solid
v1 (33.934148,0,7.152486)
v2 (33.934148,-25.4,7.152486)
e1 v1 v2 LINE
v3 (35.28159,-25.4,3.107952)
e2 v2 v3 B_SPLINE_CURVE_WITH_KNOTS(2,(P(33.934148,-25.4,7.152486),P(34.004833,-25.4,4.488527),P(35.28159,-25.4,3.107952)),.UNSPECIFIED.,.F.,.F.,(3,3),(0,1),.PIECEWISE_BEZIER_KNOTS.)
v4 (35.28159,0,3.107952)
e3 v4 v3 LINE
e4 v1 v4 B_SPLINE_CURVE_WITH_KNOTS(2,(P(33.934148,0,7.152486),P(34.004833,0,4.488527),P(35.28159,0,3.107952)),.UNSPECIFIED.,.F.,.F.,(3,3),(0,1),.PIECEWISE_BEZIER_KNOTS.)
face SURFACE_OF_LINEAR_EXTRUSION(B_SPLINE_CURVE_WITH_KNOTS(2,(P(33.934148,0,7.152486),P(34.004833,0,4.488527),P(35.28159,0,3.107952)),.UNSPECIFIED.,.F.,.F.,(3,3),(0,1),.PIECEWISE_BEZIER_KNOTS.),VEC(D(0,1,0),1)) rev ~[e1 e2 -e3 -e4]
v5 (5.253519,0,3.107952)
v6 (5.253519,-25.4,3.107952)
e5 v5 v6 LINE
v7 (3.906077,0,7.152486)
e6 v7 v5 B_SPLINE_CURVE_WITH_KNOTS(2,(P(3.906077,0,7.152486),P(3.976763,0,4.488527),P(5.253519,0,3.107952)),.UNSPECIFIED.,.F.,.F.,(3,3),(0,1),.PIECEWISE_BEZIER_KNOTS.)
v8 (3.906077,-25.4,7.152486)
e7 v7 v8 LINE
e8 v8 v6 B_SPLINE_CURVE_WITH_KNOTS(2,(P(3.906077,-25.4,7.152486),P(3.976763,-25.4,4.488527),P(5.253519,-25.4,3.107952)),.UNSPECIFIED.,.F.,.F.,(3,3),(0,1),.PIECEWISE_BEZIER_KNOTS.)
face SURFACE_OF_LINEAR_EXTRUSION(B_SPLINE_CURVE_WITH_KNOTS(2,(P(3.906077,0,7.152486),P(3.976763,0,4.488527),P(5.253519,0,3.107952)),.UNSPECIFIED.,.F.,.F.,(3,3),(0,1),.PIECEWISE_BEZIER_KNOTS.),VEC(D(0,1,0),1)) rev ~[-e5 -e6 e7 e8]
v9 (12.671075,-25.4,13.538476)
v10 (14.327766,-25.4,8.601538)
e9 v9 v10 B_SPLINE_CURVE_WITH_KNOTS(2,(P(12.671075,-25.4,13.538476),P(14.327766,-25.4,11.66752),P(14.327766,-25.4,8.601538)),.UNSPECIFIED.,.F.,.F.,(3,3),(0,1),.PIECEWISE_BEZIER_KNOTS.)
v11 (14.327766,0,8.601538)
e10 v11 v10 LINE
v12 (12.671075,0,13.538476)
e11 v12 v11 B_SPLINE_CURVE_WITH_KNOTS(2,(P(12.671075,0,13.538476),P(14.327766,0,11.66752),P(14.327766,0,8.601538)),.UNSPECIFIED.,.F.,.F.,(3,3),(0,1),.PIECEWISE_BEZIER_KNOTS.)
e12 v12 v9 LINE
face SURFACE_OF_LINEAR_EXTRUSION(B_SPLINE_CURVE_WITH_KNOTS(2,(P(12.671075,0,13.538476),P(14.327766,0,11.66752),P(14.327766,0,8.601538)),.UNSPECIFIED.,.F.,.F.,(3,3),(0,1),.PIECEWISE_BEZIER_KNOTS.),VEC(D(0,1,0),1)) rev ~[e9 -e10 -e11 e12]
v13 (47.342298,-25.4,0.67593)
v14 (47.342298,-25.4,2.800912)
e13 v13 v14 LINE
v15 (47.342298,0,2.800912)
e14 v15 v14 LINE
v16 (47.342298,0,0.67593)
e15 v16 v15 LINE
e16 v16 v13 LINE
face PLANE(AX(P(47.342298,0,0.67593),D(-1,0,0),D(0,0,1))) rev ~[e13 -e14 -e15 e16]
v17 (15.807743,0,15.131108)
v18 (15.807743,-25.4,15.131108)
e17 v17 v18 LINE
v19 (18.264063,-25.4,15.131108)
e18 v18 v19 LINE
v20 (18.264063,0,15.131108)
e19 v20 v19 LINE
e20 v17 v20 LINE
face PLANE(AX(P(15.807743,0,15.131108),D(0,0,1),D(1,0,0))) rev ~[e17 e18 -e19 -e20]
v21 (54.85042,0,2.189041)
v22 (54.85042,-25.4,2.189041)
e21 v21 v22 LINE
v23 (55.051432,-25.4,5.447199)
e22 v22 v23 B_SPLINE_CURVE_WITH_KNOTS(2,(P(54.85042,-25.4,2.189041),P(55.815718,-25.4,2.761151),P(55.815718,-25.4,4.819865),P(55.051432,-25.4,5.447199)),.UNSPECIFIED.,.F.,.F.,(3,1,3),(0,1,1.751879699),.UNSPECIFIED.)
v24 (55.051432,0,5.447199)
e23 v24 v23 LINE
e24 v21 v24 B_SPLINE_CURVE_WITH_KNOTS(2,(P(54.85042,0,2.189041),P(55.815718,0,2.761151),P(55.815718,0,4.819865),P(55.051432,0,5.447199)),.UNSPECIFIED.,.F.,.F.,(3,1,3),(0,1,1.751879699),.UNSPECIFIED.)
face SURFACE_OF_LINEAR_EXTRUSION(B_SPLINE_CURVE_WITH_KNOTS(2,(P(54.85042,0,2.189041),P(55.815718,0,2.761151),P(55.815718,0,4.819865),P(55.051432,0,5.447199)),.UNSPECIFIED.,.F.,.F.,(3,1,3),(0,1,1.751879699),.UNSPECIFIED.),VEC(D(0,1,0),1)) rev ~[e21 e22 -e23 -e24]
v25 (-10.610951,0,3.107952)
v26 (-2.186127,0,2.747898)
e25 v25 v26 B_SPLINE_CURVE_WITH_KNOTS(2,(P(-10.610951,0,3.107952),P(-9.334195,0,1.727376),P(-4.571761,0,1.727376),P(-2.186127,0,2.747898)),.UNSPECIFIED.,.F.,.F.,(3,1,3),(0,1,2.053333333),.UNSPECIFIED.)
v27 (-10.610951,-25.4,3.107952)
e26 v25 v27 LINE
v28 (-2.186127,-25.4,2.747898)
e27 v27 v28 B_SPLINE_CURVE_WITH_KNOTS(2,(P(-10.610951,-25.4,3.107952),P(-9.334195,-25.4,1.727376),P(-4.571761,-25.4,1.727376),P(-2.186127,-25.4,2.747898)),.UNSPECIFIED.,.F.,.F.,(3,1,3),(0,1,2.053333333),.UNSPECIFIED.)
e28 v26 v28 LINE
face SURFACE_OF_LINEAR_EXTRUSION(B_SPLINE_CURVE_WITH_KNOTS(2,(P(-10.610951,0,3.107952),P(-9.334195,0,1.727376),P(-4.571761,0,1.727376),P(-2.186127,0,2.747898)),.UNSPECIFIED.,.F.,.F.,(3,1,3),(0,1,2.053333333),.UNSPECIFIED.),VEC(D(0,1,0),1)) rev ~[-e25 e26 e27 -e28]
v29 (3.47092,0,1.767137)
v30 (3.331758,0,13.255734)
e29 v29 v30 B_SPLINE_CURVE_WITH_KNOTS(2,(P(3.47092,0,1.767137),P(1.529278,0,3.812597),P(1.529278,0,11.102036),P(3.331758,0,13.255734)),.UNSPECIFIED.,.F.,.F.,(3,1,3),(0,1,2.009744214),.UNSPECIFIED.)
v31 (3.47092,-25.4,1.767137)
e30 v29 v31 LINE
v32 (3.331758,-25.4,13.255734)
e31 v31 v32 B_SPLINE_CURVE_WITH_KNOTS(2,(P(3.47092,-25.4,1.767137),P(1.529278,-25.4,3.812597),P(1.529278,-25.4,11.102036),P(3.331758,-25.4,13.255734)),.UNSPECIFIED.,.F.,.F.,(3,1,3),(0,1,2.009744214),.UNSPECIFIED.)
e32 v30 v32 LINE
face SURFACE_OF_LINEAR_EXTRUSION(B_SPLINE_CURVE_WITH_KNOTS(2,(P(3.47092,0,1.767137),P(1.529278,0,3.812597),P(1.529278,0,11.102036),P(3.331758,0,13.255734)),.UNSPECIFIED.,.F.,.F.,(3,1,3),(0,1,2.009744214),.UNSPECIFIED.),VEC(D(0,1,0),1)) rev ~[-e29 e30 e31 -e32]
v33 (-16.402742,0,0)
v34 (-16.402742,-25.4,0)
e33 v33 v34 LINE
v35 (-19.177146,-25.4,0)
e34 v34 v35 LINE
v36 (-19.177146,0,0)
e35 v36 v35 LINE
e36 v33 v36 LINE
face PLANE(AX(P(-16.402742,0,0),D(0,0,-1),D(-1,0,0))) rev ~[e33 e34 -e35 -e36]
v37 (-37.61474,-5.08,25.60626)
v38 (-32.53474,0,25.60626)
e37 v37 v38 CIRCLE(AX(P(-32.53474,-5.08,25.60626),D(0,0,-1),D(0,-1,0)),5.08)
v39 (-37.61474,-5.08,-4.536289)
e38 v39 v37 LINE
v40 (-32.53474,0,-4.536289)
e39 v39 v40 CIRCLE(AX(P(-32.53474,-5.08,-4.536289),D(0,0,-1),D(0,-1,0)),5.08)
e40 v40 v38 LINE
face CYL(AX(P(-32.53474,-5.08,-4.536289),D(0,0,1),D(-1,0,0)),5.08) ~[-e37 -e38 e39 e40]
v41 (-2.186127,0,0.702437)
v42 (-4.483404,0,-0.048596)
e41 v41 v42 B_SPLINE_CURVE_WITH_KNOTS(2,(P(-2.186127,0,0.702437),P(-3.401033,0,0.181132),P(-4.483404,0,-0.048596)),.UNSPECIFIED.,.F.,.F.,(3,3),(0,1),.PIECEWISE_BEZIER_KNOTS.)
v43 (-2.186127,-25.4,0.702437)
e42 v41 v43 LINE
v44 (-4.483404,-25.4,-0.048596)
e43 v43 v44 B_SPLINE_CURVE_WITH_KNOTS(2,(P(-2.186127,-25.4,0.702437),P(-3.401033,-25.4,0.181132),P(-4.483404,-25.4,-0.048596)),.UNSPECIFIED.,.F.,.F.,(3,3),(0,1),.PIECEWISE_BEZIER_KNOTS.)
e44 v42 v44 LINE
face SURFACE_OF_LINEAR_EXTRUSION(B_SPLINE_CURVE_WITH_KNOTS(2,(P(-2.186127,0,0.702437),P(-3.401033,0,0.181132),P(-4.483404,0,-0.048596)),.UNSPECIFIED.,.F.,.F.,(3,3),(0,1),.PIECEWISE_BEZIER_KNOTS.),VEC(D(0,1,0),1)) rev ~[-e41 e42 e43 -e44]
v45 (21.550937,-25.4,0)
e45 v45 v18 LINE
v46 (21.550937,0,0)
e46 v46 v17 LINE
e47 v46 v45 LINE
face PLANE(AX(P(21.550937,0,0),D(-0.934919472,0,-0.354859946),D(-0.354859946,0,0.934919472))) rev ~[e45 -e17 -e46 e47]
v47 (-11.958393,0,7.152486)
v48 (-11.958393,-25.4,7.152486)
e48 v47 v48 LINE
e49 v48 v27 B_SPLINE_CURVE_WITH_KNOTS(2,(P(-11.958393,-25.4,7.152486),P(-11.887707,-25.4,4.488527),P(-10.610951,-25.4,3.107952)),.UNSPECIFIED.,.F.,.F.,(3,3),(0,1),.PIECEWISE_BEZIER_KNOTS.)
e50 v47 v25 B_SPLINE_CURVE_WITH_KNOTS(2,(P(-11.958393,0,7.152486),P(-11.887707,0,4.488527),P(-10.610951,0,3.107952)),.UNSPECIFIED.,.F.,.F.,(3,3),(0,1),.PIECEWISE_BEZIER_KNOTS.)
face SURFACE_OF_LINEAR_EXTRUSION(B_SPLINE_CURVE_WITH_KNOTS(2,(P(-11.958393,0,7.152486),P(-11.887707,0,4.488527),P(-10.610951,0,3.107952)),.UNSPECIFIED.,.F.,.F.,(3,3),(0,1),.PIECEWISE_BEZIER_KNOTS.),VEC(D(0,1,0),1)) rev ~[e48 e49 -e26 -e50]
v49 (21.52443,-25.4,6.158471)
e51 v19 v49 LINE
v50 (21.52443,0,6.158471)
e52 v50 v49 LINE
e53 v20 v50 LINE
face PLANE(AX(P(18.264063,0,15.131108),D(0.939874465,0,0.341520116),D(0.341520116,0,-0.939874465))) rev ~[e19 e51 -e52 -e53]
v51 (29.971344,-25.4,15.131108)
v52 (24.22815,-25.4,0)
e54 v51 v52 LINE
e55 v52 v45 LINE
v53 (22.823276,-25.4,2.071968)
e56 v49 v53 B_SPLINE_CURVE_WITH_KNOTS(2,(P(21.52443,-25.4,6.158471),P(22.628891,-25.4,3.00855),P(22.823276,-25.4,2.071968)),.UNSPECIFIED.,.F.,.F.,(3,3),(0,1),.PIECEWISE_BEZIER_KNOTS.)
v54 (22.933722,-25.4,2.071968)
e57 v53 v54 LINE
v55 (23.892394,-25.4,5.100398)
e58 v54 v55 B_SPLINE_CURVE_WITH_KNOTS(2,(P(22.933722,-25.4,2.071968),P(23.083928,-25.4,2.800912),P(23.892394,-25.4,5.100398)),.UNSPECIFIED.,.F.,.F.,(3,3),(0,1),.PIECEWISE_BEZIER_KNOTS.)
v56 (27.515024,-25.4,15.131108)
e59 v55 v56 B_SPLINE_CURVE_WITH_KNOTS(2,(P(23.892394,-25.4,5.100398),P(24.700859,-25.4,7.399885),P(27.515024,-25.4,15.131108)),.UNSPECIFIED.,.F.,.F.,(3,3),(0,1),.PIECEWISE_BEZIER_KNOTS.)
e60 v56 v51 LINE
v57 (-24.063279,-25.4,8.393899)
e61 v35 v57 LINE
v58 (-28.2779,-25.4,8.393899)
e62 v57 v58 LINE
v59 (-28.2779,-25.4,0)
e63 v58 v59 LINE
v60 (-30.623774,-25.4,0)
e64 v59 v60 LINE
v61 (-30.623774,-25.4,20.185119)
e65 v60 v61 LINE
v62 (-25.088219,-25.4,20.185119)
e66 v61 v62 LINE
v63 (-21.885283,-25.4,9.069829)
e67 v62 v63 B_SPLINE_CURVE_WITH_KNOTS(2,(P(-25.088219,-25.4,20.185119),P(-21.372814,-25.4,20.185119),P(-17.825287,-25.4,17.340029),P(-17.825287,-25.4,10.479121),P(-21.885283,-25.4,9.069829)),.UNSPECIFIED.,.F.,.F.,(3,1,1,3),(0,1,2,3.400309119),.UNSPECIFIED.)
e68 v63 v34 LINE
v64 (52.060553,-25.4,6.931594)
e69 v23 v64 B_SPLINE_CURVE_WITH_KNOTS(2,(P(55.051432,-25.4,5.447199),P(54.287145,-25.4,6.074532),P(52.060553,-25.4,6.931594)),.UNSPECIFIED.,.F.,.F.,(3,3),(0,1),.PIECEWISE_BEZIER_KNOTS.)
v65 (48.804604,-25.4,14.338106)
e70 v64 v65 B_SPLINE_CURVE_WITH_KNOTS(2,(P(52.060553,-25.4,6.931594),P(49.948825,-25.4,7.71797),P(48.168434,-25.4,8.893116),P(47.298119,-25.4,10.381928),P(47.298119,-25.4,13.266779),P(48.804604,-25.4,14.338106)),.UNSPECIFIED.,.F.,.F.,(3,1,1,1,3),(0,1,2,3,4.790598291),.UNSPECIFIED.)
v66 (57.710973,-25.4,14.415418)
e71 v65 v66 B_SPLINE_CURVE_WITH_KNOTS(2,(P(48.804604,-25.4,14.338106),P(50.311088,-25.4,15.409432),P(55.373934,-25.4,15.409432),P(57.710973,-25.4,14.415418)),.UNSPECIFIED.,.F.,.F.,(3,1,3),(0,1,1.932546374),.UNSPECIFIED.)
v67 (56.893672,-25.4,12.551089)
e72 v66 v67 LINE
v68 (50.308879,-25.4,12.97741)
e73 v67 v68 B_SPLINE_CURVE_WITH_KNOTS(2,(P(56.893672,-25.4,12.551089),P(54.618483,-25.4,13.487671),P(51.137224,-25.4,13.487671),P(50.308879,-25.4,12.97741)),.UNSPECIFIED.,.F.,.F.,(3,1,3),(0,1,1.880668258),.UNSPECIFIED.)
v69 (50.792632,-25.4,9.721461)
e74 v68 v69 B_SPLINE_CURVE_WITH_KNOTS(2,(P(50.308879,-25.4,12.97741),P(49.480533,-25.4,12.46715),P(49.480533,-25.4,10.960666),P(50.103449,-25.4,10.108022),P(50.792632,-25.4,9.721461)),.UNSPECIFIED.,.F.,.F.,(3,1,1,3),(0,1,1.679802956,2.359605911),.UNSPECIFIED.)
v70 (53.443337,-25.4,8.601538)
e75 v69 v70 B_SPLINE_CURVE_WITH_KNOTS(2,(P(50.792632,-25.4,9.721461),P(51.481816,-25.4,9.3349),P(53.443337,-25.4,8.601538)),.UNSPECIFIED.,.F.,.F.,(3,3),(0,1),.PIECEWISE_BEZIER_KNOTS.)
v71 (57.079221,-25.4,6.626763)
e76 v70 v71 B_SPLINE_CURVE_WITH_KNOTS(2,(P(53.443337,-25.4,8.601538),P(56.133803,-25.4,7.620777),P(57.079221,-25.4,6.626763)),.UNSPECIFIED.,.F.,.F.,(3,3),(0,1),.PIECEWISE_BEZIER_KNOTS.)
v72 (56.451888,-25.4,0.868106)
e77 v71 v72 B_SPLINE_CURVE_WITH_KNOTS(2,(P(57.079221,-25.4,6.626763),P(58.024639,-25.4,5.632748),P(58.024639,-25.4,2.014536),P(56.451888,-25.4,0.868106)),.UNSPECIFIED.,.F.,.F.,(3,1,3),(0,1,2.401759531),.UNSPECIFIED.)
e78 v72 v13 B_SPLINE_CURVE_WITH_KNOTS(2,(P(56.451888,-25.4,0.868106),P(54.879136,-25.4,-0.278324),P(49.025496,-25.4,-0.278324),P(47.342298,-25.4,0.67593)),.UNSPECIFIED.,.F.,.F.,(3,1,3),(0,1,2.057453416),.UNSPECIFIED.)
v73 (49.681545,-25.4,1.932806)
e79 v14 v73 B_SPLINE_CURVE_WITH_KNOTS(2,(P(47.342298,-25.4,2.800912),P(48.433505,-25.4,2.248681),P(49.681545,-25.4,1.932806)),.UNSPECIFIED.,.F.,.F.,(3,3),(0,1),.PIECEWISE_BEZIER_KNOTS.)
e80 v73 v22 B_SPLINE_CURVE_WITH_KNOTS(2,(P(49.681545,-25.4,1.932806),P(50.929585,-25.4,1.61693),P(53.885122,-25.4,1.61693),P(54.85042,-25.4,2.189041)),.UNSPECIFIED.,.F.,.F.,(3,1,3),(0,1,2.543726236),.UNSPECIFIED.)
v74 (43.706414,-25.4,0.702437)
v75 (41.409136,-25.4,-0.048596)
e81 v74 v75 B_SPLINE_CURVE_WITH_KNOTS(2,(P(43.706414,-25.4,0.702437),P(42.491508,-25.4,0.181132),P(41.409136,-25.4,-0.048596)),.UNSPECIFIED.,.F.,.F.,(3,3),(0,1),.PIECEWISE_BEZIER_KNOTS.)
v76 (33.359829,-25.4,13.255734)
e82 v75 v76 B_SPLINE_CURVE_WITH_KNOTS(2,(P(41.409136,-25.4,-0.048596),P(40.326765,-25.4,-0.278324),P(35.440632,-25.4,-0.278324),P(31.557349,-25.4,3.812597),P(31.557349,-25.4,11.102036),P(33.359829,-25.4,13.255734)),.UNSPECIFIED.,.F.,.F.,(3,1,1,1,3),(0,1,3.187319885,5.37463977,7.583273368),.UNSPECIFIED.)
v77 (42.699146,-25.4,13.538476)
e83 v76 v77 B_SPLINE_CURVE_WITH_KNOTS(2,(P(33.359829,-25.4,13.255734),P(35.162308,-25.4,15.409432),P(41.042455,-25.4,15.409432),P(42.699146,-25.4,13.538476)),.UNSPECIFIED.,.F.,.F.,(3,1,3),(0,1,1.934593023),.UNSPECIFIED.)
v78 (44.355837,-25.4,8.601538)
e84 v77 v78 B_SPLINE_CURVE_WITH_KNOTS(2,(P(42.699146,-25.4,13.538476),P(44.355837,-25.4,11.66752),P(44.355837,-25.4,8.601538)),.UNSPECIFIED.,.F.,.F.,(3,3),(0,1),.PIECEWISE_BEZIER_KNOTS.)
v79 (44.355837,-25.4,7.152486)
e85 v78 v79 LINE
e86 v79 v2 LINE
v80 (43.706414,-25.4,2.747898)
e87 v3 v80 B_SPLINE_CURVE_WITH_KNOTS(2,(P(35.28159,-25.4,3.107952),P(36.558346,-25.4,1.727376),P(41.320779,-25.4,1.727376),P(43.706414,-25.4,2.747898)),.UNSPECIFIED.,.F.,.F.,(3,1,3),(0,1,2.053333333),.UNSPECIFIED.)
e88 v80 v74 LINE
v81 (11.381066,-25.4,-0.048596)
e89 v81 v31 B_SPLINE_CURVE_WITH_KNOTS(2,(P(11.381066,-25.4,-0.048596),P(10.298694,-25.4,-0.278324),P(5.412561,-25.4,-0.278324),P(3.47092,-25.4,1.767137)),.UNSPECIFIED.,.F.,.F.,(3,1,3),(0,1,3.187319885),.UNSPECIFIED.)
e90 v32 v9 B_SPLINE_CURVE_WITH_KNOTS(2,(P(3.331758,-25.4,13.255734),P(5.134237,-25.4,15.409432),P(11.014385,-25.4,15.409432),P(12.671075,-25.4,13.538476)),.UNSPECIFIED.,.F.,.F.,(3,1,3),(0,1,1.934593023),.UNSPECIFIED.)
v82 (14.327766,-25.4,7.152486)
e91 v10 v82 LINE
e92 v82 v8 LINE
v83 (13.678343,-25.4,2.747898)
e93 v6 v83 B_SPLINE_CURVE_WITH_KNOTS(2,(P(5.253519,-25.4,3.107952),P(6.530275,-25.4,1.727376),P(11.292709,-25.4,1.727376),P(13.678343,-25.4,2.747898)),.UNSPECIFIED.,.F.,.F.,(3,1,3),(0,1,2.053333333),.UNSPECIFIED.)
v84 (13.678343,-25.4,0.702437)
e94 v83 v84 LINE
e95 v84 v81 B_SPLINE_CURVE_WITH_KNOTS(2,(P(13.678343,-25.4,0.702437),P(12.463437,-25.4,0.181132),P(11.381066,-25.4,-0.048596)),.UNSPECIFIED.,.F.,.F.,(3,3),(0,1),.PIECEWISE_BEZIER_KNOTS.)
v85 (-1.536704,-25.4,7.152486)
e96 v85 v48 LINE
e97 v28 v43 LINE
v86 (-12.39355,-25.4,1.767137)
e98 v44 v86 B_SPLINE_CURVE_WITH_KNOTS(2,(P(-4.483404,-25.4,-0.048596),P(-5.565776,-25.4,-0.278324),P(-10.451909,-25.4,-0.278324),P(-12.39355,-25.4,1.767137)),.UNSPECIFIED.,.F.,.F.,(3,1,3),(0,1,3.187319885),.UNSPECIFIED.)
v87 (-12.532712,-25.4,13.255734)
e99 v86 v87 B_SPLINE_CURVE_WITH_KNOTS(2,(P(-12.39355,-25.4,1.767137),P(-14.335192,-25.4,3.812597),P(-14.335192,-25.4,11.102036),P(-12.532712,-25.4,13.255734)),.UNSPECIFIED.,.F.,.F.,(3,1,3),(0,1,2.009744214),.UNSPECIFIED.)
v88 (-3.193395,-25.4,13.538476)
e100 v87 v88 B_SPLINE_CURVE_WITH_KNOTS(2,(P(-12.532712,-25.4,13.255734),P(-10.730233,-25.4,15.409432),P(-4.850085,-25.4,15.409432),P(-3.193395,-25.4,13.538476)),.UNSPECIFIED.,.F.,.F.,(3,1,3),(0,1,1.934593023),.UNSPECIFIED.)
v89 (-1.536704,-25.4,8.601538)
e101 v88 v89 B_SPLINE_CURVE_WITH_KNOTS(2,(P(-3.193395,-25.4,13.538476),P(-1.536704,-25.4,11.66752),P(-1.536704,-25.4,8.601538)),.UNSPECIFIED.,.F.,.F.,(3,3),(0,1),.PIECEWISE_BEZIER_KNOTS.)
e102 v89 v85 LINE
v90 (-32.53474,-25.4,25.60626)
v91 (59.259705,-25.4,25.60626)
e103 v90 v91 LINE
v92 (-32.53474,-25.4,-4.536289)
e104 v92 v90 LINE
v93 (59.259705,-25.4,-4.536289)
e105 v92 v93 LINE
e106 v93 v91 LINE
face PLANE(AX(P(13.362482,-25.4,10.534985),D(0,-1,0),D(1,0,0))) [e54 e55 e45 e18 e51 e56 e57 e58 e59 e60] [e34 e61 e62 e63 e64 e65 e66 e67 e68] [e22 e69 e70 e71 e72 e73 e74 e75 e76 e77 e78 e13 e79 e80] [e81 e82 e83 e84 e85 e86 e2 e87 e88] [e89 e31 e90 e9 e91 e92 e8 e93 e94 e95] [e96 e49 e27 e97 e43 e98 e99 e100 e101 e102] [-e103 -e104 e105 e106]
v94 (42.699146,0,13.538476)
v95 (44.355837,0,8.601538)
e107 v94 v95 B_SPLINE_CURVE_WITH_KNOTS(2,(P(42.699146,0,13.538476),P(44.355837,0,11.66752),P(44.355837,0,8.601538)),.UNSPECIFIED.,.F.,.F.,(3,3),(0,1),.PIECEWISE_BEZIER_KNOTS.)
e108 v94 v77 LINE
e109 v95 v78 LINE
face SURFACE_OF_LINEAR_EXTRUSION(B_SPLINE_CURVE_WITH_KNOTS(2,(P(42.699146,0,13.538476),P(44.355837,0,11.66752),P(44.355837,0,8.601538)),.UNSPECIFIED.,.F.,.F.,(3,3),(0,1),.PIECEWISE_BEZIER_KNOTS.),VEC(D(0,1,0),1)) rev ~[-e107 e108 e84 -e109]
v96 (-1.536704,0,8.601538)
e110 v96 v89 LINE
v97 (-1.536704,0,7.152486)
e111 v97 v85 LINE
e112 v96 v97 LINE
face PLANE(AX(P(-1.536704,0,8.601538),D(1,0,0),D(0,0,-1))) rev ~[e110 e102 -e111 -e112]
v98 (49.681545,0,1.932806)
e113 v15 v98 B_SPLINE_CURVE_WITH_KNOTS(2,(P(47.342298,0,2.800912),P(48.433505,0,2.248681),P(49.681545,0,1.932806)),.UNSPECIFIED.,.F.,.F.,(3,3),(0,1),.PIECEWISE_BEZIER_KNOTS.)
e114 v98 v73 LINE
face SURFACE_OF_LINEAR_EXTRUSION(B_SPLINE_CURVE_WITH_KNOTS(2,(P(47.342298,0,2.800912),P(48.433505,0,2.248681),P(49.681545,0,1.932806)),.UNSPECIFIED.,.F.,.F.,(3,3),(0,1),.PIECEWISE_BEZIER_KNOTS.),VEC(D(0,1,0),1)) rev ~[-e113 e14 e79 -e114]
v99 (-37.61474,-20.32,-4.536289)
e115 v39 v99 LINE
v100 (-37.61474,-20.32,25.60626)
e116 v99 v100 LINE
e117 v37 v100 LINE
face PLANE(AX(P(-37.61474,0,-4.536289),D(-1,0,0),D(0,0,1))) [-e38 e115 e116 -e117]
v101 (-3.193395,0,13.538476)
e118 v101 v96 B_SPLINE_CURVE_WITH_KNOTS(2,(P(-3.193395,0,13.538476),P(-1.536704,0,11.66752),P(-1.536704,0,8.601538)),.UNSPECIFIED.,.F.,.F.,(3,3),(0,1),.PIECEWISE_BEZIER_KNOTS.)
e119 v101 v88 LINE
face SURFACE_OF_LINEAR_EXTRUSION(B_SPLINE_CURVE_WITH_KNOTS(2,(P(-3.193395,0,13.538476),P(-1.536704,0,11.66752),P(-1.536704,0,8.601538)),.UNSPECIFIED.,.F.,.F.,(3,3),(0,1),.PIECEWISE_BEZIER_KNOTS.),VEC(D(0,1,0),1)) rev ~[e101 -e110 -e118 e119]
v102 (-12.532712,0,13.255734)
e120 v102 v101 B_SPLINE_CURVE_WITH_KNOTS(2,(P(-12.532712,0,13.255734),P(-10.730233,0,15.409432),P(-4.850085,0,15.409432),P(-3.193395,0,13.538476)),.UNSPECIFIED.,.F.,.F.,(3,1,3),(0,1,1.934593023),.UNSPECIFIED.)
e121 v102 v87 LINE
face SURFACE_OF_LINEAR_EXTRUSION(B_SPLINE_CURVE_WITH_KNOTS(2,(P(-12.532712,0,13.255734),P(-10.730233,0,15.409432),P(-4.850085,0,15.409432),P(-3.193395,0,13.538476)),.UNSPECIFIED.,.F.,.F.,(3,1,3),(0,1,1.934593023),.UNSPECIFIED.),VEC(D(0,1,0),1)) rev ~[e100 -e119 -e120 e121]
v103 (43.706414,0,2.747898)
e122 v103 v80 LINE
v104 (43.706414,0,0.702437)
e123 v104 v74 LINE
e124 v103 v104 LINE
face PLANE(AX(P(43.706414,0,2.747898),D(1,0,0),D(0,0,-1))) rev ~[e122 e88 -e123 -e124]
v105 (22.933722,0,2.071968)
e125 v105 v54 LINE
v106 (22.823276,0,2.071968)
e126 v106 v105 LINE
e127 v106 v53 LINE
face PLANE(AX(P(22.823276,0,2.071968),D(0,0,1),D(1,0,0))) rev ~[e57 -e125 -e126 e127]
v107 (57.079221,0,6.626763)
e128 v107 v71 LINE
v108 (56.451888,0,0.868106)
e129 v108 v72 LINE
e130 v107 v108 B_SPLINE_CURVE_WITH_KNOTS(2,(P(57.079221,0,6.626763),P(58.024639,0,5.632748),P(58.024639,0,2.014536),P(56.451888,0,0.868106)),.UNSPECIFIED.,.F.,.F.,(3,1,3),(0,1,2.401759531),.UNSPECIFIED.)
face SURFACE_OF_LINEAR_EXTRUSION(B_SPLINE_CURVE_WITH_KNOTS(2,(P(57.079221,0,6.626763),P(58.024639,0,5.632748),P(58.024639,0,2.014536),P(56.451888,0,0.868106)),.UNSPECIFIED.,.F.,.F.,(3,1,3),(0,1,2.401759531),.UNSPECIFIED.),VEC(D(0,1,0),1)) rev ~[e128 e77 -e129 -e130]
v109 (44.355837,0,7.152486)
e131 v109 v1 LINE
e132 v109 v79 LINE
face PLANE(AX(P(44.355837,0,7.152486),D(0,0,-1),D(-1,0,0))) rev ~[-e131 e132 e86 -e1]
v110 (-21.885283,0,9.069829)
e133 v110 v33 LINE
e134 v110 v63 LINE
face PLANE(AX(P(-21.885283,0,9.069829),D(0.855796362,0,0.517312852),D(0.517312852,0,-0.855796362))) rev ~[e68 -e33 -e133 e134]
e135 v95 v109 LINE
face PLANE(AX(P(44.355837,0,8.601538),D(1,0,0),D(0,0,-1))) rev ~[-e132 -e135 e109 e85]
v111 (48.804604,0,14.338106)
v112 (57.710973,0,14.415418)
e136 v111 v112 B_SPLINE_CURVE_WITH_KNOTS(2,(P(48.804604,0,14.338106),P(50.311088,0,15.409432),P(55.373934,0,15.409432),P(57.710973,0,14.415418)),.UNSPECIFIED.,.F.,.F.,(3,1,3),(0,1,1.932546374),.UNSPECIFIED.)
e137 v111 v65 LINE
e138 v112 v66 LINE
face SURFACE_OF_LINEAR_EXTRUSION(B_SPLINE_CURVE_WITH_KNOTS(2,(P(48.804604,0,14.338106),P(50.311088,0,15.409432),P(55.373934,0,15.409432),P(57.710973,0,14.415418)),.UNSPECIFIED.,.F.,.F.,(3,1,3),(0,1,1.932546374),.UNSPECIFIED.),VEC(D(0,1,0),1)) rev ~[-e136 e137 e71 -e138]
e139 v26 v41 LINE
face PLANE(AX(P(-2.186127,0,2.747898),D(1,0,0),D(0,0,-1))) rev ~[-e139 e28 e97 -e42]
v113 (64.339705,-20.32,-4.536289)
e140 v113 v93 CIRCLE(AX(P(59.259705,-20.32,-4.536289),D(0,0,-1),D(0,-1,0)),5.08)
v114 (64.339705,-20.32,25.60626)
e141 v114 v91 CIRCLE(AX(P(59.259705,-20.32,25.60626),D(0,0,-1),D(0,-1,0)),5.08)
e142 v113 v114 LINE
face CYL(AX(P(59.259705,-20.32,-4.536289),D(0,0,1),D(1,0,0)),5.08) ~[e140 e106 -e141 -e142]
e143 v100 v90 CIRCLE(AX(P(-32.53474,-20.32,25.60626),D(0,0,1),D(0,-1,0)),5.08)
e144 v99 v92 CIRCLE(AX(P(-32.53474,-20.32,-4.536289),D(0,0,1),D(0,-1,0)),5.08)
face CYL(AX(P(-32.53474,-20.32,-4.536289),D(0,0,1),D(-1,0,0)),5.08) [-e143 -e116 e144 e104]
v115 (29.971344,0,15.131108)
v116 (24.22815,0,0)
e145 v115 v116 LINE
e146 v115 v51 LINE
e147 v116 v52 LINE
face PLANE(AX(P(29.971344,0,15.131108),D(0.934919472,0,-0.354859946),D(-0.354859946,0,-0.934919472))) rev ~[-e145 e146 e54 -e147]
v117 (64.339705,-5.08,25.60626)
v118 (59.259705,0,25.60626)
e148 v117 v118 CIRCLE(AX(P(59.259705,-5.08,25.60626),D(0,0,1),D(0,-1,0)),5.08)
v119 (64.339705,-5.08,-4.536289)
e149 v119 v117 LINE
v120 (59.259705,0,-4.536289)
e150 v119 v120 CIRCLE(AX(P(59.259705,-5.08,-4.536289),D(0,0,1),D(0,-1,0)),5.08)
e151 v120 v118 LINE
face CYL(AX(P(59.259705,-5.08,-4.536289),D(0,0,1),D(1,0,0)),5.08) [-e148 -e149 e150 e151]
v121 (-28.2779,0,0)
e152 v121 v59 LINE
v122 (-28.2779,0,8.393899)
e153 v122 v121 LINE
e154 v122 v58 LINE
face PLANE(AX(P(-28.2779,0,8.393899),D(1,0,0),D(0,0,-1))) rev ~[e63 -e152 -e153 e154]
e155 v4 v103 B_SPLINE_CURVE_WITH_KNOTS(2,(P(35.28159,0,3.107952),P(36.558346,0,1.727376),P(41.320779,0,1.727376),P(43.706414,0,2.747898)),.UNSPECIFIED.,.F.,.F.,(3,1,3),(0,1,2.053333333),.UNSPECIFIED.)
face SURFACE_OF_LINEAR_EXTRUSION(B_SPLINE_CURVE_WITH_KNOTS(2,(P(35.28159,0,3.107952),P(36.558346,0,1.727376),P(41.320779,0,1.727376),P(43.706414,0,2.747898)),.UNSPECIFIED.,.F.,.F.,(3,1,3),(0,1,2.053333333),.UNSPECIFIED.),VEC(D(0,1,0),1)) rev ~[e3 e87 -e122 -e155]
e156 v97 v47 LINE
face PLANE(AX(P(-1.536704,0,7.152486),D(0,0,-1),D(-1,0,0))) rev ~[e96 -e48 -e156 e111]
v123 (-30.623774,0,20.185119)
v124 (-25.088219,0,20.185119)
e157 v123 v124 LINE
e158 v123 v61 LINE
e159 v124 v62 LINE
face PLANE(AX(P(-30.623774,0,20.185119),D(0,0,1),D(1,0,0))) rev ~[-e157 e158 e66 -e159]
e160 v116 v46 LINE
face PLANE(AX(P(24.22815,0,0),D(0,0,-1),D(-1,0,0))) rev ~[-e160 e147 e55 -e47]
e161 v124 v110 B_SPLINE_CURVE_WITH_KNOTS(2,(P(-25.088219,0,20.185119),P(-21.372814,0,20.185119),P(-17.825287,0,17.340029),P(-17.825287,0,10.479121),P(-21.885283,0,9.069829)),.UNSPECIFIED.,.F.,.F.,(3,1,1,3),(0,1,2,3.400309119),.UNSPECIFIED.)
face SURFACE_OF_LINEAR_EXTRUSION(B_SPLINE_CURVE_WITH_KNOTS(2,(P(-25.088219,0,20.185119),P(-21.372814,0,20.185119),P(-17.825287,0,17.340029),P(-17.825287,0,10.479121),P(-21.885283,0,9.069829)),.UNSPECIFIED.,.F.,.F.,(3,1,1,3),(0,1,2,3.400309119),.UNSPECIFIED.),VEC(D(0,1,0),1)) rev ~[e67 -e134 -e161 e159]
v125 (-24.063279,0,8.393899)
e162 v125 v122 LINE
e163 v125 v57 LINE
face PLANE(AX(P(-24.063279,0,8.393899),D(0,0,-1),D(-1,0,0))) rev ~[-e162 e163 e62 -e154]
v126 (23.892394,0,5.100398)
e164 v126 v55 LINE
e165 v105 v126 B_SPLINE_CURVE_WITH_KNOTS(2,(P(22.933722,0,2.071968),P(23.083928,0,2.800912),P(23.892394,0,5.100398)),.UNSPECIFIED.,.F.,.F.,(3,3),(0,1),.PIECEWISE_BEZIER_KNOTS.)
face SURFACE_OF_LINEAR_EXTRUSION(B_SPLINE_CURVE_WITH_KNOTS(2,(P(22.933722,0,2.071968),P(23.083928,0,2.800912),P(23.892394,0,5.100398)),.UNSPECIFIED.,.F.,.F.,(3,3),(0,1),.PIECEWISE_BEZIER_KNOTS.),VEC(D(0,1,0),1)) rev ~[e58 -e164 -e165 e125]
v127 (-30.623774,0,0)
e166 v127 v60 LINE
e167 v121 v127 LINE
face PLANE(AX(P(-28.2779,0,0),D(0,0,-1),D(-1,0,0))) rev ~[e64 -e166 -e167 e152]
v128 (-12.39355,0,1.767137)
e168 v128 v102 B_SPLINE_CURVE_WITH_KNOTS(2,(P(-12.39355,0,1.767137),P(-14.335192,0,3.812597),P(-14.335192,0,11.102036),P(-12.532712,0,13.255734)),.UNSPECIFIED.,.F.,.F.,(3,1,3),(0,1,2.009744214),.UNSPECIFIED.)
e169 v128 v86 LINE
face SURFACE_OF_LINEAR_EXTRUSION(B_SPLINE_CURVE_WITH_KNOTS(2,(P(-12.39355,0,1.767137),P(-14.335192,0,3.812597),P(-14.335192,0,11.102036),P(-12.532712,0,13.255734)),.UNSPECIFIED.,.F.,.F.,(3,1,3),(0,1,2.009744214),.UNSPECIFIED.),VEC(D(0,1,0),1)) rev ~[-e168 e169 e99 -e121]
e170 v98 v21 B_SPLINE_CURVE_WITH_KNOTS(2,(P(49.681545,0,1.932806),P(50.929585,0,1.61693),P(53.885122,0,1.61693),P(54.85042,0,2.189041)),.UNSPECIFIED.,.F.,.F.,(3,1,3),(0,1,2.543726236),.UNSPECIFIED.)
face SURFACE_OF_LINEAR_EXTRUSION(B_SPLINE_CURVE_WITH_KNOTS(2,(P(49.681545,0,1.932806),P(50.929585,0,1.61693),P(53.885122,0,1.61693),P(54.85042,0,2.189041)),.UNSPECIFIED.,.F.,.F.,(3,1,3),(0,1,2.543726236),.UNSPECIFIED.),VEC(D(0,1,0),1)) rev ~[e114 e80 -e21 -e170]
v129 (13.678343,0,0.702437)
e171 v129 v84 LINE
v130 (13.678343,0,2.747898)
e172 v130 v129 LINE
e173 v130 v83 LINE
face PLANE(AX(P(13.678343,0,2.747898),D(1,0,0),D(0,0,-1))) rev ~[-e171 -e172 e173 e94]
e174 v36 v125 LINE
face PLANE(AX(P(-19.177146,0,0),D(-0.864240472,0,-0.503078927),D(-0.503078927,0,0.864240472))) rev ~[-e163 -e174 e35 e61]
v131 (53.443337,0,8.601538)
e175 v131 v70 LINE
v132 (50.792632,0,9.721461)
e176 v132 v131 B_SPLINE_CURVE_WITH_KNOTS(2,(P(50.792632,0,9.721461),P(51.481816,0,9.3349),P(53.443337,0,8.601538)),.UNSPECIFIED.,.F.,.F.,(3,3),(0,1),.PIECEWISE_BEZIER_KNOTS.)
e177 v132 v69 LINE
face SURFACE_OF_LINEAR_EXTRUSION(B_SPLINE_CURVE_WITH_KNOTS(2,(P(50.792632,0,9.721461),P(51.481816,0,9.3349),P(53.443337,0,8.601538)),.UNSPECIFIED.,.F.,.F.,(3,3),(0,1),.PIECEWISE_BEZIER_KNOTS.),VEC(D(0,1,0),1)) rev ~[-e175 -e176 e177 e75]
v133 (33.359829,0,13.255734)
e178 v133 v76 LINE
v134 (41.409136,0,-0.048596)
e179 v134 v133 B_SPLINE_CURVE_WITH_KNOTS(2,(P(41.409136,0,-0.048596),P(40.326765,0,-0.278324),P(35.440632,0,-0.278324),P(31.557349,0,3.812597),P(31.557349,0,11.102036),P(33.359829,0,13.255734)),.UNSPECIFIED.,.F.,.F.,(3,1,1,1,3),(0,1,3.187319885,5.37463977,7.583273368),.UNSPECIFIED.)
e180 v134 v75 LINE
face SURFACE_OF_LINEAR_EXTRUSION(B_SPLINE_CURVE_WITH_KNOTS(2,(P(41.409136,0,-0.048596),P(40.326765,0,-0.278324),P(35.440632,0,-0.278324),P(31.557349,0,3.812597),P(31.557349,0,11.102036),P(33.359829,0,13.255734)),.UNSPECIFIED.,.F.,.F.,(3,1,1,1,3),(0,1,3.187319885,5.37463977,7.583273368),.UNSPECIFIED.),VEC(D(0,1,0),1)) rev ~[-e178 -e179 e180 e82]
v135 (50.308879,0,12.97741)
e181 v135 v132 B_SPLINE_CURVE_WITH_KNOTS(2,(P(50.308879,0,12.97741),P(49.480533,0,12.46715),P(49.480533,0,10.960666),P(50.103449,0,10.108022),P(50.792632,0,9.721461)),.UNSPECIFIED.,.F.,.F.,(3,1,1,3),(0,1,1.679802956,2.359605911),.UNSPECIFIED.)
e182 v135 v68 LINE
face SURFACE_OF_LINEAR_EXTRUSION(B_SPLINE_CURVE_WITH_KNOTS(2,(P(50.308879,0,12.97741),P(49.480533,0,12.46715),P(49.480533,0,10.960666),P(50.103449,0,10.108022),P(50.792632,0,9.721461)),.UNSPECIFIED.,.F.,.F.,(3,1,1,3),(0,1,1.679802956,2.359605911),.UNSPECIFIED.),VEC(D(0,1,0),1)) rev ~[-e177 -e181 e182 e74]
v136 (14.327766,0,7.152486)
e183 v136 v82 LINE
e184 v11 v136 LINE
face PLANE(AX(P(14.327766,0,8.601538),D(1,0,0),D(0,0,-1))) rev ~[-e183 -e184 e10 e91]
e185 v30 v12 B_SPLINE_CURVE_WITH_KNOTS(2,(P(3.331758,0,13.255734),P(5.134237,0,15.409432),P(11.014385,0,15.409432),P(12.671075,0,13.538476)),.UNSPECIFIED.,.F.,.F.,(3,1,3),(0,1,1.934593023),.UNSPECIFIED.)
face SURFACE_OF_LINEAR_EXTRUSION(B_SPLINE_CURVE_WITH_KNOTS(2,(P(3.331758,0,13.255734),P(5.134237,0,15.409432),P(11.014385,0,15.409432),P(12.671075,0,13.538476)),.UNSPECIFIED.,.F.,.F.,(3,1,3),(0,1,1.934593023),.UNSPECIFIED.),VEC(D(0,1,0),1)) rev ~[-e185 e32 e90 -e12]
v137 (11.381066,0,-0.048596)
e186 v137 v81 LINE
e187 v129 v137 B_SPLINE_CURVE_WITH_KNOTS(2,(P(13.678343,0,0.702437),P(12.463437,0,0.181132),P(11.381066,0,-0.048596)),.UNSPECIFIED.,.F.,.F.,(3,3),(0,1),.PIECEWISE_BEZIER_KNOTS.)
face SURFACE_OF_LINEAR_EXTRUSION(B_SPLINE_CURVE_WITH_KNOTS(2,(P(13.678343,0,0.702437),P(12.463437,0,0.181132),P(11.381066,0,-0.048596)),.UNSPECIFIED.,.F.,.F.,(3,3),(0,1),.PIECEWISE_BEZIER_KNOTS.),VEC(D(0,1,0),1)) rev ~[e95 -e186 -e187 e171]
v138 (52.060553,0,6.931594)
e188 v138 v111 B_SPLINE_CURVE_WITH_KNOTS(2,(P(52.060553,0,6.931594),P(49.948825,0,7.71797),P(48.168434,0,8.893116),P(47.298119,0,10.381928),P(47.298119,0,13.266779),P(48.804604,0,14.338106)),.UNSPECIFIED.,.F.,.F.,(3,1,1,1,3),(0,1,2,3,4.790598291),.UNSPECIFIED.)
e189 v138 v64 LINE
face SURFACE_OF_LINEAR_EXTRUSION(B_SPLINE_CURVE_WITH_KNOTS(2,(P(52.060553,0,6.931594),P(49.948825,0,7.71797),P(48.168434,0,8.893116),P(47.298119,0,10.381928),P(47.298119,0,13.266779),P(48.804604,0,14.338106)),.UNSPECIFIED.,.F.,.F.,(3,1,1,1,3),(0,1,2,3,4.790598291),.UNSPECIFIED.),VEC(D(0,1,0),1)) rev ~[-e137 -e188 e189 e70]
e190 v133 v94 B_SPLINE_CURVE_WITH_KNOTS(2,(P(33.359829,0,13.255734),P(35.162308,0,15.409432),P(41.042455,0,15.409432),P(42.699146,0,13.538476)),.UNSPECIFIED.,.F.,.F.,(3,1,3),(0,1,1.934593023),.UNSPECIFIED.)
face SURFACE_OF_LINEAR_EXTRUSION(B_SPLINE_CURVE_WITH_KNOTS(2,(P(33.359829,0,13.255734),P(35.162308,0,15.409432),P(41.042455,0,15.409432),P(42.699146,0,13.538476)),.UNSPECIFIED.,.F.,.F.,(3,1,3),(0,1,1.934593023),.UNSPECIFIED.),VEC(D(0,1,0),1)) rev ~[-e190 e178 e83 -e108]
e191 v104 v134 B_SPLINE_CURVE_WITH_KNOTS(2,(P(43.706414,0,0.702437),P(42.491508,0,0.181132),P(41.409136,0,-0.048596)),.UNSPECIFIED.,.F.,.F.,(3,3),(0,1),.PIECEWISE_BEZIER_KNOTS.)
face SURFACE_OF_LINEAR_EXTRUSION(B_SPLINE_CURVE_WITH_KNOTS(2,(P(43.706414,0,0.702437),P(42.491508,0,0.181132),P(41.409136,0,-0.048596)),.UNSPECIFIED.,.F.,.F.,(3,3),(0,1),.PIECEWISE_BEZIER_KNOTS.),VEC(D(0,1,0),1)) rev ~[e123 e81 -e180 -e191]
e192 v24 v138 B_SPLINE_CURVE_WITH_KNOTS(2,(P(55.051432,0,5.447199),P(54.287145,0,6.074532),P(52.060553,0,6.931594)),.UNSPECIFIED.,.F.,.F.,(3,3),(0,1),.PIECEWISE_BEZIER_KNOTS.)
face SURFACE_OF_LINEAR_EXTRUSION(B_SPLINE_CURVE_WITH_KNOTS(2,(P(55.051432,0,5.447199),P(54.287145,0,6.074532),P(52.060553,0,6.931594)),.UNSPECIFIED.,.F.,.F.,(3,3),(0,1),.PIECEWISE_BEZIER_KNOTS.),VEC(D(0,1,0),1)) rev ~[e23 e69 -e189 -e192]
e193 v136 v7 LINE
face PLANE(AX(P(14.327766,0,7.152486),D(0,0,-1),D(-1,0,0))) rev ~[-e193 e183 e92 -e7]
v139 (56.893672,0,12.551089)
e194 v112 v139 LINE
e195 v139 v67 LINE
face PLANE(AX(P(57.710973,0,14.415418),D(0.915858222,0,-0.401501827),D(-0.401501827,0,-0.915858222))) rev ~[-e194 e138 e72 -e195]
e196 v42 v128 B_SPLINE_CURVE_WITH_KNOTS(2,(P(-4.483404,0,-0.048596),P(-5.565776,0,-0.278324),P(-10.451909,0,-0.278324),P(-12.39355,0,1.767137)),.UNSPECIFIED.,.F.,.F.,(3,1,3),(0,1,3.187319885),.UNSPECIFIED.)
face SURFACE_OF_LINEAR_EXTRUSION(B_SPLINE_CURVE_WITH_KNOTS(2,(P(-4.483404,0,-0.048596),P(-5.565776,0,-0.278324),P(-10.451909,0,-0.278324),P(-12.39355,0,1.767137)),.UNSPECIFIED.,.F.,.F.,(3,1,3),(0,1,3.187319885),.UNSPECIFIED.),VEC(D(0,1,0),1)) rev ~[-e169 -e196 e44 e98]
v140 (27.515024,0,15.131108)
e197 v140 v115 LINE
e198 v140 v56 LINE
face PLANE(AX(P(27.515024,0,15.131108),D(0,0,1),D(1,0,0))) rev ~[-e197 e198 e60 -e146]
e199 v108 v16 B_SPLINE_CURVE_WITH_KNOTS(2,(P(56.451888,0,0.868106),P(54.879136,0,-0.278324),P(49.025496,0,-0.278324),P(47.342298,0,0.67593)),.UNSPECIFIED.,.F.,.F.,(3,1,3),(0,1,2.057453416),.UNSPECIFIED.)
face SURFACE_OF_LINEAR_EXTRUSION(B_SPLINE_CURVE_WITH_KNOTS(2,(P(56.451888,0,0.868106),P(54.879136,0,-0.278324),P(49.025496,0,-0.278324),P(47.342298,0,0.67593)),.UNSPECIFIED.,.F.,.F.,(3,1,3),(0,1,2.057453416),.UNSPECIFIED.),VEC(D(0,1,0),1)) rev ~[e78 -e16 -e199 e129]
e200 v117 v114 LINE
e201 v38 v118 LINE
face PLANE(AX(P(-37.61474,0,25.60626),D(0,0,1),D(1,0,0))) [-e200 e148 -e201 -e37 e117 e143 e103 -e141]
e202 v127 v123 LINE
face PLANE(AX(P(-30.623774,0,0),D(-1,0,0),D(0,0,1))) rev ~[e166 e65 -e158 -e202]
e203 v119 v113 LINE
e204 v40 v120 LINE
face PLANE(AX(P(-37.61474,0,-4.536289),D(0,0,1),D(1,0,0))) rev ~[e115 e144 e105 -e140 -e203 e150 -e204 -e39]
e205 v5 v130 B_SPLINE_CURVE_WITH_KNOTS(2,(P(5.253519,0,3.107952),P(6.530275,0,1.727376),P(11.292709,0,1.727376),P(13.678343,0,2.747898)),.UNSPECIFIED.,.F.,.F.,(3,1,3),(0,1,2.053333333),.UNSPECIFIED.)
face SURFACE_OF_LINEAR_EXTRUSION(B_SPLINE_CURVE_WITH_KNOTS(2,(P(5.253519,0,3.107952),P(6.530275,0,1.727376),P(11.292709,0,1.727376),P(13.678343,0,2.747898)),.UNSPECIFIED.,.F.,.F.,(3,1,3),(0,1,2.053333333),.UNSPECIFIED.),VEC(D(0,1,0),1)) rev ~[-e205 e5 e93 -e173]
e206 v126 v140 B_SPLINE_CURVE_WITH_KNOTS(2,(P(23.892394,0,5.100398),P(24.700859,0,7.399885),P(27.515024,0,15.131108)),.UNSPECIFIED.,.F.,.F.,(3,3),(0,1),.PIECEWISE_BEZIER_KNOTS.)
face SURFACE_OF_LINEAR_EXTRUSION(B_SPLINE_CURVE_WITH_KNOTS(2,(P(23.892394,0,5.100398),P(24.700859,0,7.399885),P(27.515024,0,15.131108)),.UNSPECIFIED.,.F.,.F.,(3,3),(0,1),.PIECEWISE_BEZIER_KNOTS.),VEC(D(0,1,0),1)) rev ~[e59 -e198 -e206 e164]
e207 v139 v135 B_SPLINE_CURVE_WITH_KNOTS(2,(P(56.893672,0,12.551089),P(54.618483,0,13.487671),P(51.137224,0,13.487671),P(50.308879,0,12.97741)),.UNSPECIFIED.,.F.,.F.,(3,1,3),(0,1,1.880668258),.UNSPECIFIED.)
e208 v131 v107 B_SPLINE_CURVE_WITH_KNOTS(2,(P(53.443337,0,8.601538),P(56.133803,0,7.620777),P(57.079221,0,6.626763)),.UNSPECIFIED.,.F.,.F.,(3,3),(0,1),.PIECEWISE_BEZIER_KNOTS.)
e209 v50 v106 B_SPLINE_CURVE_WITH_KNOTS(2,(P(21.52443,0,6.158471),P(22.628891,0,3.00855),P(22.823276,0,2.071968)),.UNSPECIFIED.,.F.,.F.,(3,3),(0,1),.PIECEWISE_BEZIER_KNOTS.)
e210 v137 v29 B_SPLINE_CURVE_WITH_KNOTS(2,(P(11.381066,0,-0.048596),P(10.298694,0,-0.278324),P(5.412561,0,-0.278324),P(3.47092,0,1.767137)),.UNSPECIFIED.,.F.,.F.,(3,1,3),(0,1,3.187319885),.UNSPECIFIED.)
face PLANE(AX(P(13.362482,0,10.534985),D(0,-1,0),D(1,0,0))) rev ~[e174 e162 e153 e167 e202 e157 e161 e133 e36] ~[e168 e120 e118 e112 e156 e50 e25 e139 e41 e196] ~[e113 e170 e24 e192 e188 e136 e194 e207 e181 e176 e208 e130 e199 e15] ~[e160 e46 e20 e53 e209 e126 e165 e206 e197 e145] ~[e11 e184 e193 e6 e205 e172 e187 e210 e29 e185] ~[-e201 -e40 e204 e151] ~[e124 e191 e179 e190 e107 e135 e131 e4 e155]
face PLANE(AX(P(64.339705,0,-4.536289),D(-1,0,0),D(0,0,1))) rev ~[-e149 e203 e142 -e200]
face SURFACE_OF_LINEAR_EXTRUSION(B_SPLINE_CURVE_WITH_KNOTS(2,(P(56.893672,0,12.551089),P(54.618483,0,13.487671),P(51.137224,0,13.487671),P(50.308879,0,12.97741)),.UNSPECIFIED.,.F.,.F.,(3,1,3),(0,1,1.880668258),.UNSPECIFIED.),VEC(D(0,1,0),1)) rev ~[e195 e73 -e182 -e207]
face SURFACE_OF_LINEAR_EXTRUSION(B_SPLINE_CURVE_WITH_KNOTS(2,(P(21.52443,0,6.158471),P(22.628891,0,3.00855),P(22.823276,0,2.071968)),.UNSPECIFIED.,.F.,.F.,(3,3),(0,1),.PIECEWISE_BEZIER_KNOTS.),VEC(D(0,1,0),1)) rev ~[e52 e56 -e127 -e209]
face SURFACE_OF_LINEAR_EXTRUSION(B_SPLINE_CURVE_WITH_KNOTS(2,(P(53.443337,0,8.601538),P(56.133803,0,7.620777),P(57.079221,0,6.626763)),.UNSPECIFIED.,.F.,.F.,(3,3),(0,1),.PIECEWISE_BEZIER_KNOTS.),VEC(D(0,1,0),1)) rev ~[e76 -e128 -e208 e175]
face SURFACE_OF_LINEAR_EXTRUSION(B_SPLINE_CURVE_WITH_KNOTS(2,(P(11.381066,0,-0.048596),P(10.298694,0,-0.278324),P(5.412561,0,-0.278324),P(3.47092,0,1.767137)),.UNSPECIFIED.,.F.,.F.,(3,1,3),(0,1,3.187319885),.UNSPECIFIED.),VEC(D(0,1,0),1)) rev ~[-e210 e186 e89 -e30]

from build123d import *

# Parameters (mm, degrees)
F0_W     = 101.9544452429
F0_H     = 30.142548494
F1_DEPTH = 25.4
F2_R     = 5.08


with BuildPart() as f1:
    # F0 (on Front) → F1 (new body)
    with BuildSketch(Plane.XZ):
        with Locations((13.3624821901, 10.5349854566)):
            Rectangle(F0_W, F0_H)
        with BuildLine():
            Line((-24.0632793571, 8.3938994471), (-28.2779004479, 8.3938994471))
            Line((-28.2779004479, 8.3938994471), (-28.2779004479, 0))
            Line((-28.2779004479, 0), (-30.6237744513, 0))
            Line((-30.6237744513, 0), (-30.6237744513, 20.1851192493))
            Line((-30.6237744513, 20.1851192493), (-25.088218658, 20.1851192493))
            add(Edge.make_bspline(
                [(-25.088218658, 20.1851192493), (-21.3728136922, 20.1851192493), (-19.5990502038, 18.7625741851)],
                knots=[0, 0, 0, 1, 1, 1], degree=2))
            add(Edge.make_bspline(
                [(-19.5990502038, 18.7625741851), (-17.8252867154, 17.3400291209), (-17.8252867154, 14.4816854671)],
                knots=[0, 0, 0, 1, 1, 1], degree=2))
            add(Edge.make_bspline(
                [(-17.8252867154, 14.4816854671), (-17.8252867154, 10.4791207834), (-21.8852833427, 9.0698292447)],
                knots=[0, 0, 0, 1, 1, 1], degree=2))
            Line((-21.8852833427, 9.0698292447), (-16.4027416512, 0))
            Line((-16.4027416512, 0), (-19.1771463105, 0))
            Line((-19.1771463105, 0), (-24.0632793571, 8.3938994471))
        make_face(mode=Mode.SUBTRACT)
        with BuildLine():
            add(Edge.make_bspline(
                [(-4.4834044363, -0.04859626), (-5.5657756808, -0.2783240343), (-7.0987667904, -0.2783240343)],
                knots=[0, 0, 0, 1, 1, 1], degree=2))
            add(Edge.make_bspline(
                [(-7.0987667904, -0.2783240343), (-10.4519087274, -0.2783240343), (-12.3935502048, 1.7671367257)],
                knots=[0, 0, 0, 1, 1, 1], degree=2))
            add(Edge.make_bspline(
                [(-12.3935502048, 1.7671367257), (-14.3351916821, 3.8125974857), (-14.3351916821, 7.4396456152)],
                knots=[0, 0, 0, 1, 1, 1], degree=2))
            add(Edge.make_bspline(
                [(-14.3351916821, 7.4396456152), (-14.3351916821, 11.1020364792), (-12.5327122219, 13.2557343637)],
                knots=[0, 0, 0, 1, 1, 1], degree=2))
            add(Edge.make_bspline(
                [(-12.5327122219, 13.2557343637), (-10.7302327617, 15.4094322481), (-7.6907575935, 15.4094322481)],
                knots=[0, 0, 0, 1, 1, 1], degree=2))
            add(Edge.make_bspline(
                [(-7.6907575935, 15.4094322481), (-4.8500853069, 15.4094322481), (-3.1933946266, 13.5384762398)],
                knots=[0, 0, 0, 1, 1, 1], degree=2))
            add(Edge.make_bspline(
                [(-3.1933946266, 13.5384762398), (-1.5367039462, 11.6675202314), (-1.5367039462, 8.6015380123)],
                knots=[0, 0, 0, 1, 1, 1], degree=2))
            Line((-1.5367039462, 8.6015380123), (-1.5367039462, 7.1524858973))
            Line((-1.5367039462, 7.1524858973), (-11.9583927861, 7.1524858973))
            add(Edge.make_bspline(
                [(-11.9583927861, 7.1524858973), (-11.887707317, 4.4885272833), (-10.6109510327, 3.1079517163)],
                knots=[0, 0, 0, 1, 1, 1], degree=2))
            add(Edge.make_bspline(
                [(-10.6109510327, 3.1079517163), (-9.3341947484, 1.7273761494), (-7.0148277959, 1.7273761494)],
                knots=[0, 0, 0, 1, 1, 1], degree=2))
            add(Edge.make_bspline(
                [(-7.0148277959, 1.7273761494), (-4.5717612726, 1.7273761494), (-2.1861266929, 2.7478976085)],
                knots=[0, 0, 0, 1, 1, 1], degree=2))
            Line((-2.1861266929, 2.7478976085), (-2.1861266929, 0.7024368485))
            add(Edge.make_bspline(
                [(-2.1861266929, 0.7024368485), (-3.4010331919, 0.1811315144), (-4.4834044363, -0.04859626)],
                knots=[0, 0, 0, 1, 1, 1], degree=2))
        make_face(mode=Mode.SUBTRACT)
        with BuildLine():
            add(Edge.make_bspline(
                [(11.3810655186, -0.04859626), (10.2986942741, -0.2783240343), (8.7657031646, -0.2783240343)],
                knots=[0, 0, 0, 1, 1, 1], degree=2))
            add(Edge.make_bspline(
                [(8.7657031646, -0.2783240343), (5.4125612276, -0.2783240343), (3.4709197502, 1.7671367257)],
                knots=[0, 0, 0, 1, 1, 1], degree=2))
            add(Edge.make_bspline(
                [(3.4709197502, 1.7671367257), (1.5292782729, 3.8125974857), (1.5292782729, 7.4396456152)],
                knots=[0, 0, 0, 1, 1, 1], degree=2))
            add(Edge.make_bspline(
                [(1.5292782729, 7.4396456152), (1.5292782729, 11.1020364792), (3.3317577331, 13.2557343637)],
                knots=[0, 0, 0, 1, 1, 1], degree=2))
            add(Edge.make_bspline(
                [(3.3317577331, 13.2557343637), (5.1342371933, 15.4094322481), (8.1737123615, 15.4094322481)],
                knots=[0, 0, 0, 1, 1, 1], degree=2))
            add(Edge.make_bspline(
                [(8.1737123615, 15.4094322481), (11.0143846481, 15.4094322481), (12.6710753284, 13.5384762398)],
                knots=[0, 0, 0, 1, 1, 1], degree=2))
            add(Edge.make_bspline(
                [(12.6710753284, 13.5384762398), (14.3277660087, 11.6675202314), (14.3277660087, 8.6015380123)],
                knots=[0, 0, 0, 1, 1, 1], degree=2))
            Line((14.3277660087, 8.6015380123), (14.3277660087, 7.1524858973))
            Line((14.3277660087, 7.1524858973), (3.9060771689, 7.1524858973))
            add(Edge.make_bspline(
                [(3.9060771689, 7.1524858973), (3.9767626379, 4.4885272833), (5.2535189223, 3.1079517163)],
                knots=[0, 0, 0, 1, 1, 1], degree=2))
            add(Edge.make_bspline(
                [(5.2535189223, 3.1079517163), (6.5302752066, 1.7273761494), (8.8496421591, 1.7273761494)],
                knots=[0, 0, 0, 1, 1, 1], degree=2))
            add(Edge.make_bspline(
                [(8.8496421591, 1.7273761494), (11.2927086824, 1.7273761494), (13.678343262, 2.7478976085)],
                knots=[0, 0, 0, 1, 1, 1], degree=2))
            Line((13.678343262, 2.7478976085), (13.678343262, 0.7024368485))
            add(Edge.make_bspline(
                [(13.678343262, 0.7024368485), (12.4634367631, 0.1811315144), (11.3810655186, -0.04859626)],
                knots=[0, 0, 0, 1, 1, 1], degree=2))
        make_face(mode=Mode.SUBTRACT)
        with BuildLine():
            Line((24.2281495145, 0), (21.550937375, 0))
            Line((21.550937375, 0), (15.8077430165, 15.1311082138))
            Line((15.8077430165, 15.1311082138), (18.2640630652, 15.1311082138))
            Line((18.2640630652, 15.1311082138), (21.5244303242, 6.1584714891))
            add(Edge.make_bspline(
                [(21.5244303242, 6.1584714891), (22.6288907777, 3.0085502755), (22.8232758176, 2.0719678109)],
                knots=[0, 0, 0, 1, 1, 1], degree=2))
            Line((22.8232758176, 2.0719678109), (22.9337218629, 2.0719678109))
            add(Edge.make_bspline(
                [(22.9337218629, 2.0719678109), (23.0839284846, 2.8009117102), (23.8923935366, 5.1003983746)],
                knots=[0, 0, 0, 1, 1, 1], degree=2))
            add(Edge.make_bspline(
                [(23.8923935366, 5.1003983746), (24.7008585886, 7.3998850389), (27.5150238243, 15.1311082138)],
                knots=[0, 0, 0, 1, 1, 1], degree=2))
            Line((27.5150238243, 15.1311082138), (29.971343873, 15.1311082138))
            Line((29.971343873, 15.1311082138), (24.2281495145, 0))
        make_face(mode=Mode.SUBTRACT)
        with BuildLine():
            add(Edge.make_bspline(
                [(41.4091363301, -0.04859626), (40.3267650856, -0.2783240343), (38.7937739761, -0.2783240343)],
                knots=[0, 0, 0, 1, 1, 1], degree=2))
            add(Edge.make_bspline(
                [(38.7937739761, -0.2783240343), (35.4406320391, -0.2783240343), (33.4989905617, 1.7671367257)],
                knots=[0, 0, 0, 1, 1, 1], degree=2))
            add(Edge.make_bspline(
                [(33.4989905617, 1.7671367257), (31.5573490843, 3.8125974857), (31.5573490843, 7.4396456152)],
                knots=[0, 0, 0, 1, 1, 1], degree=2))
            add(Edge.make_bspline(
                [(31.5573490843, 7.4396456152), (31.5573490843, 11.1020364792), (33.3598285445, 13.2557343637)],
                knots=[0, 0, 0, 1, 1, 1], degree=2))
            add(Edge.make_bspline(
                [(33.3598285445, 13.2557343637), (35.1623080048, 15.4094322481), (38.201783173, 15.4094322481)],
                knots=[0, 0, 0, 1, 1, 1], degree=2))
            add(Edge.make_bspline(
                [(38.201783173, 15.4094322481), (41.0424554595, 15.4094322481), (42.6991461399, 13.5384762398)],
                knots=[0, 0, 0, 1, 1, 1], degree=2))
            add(Edge.make_bspline(
                [(42.6991461399, 13.5384762398), (44.3558368202, 11.6675202314), (44.3558368202, 8.6015380123)],
                knots=[0, 0, 0, 1, 1, 1], degree=2))
            Line((44.3558368202, 8.6015380123), (44.3558368202, 7.1524858973))
            Line((44.3558368202, 7.1524858973), (33.9341479804, 7.1524858973))
            add(Edge.make_bspline(
                [(33.9341479804, 7.1524858973), (34.0048334494, 4.4885272833), (35.2815897337, 3.1079517163)],
                knots=[0, 0, 0, 1, 1, 1], degree=2))
            add(Edge.make_bspline(
                [(35.2815897337, 3.1079517163), (36.5583460181, 1.7273761494), (38.8777129705, 1.7273761494)],
                knots=[0, 0, 0, 1, 1, 1], degree=2))
            add(Edge.make_bspline(
                [(38.8777129705, 1.7273761494), (41.3207794938, 1.7273761494), (43.7064140735, 2.7478976085)],
                knots=[0, 0, 0, 1, 1, 1], degree=2))
            Line((43.7064140735, 2.7478976085), (43.7064140735, 0.7024368485))
            add(Edge.make_bspline(
                [(43.7064140735, 0.7024368485), (42.4915075746, 0.1811315144), (41.4091363301, -0.04859626)],
                knots=[0, 0, 0, 1, 1, 1], degree=2))
        make_face(mode=Mode.SUBTRACT)
        with BuildLine():
            add(Edge.make_bspline(
                [(57.0792212453, 6.6267627214), (58.0246393935, 5.6327483132), (58.0246393935, 4.1262642545)],
                knots=[0, 0, 0, 1, 1, 1], degree=2))
            add(Edge.make_bspline(
                [(58.0246393935, 4.1262642545), (58.0246393935, 2.0145358673), (56.4518877076, 0.8681059165)],
                knots=[0, 0, 0, 1, 1, 1], degree=2))
            add(Edge.make_bspline(
                [(56.4518877076, 0.8681059165), (54.8791360218, -0.2783240343), (52.0340458934, -0.2783240343)],
                knots=[0, 0, 0, 1, 1, 1], degree=2))
            add(Edge.make_bspline(
                [(52.0340458934, -0.2783240343), (49.0254956179, -0.2783240343), (47.3422978867, 0.6759297976)],
                knots=[0, 0, 0, 1, 1, 1], degree=2))
            Line((47.3422978867, 0.6759297976), (47.3422978867, 2.8009117102))
            add(Edge.make_bspline(
                [(47.3422978867, 2.8009117102), (48.4335048148, 2.2486814835), (49.6815451273, 1.9328057937)],
                knots=[0, 0, 0, 1, 1, 1], degree=2))
            add(Edge.make_bspline(
                [(49.6815451273, 1.9328057937), (50.9295854398, 1.616930104), (52.091477837, 1.616930104)],
                knots=[0, 0, 0, 1, 1, 1], degree=2))
            add(Edge.make_bspline(
                [(52.091477837, 1.616930104), (53.8851216136, 1.616930104), (54.85042005, 2.189040619)],
                knots=[0, 0, 0, 1, 1, 1], degree=2))
            add(Edge.make_bspline(
                [(54.85042005, 2.189040619), (55.8157184864, 2.7611511339), (55.8157184864, 3.9362970565)],
                knots=[0, 0, 0, 1, 1, 1], degree=2))
            add(Edge.make_bspline(
                [(55.8157184864, 3.9362970565), (55.8157184864, 4.8198654193), (55.0514318525, 5.447198957)],
                knots=[0, 0, 0, 1, 1, 1], degree=2))
            add(Edge.make_bspline(
                [(55.0514318525, 5.447198957), (54.2871452187, 6.0745324946), (52.0605529443, 6.9315938066)],
                knots=[0, 0, 0, 1, 1, 1], degree=2))
            add(Edge.make_bspline(
                [(52.0605529443, 6.9315938066), (49.9488245571, 7.7179696495), (49.0586294315, 8.3055426108)],
                knots=[0, 0, 0, 1, 1, 1], degree=2))
            add(Edge.make_bspline(
                [(49.0586294315, 8.3055426108), (48.1684343059, 8.8931155721), (47.7332768872, 9.6375219178)],
                knots=[0, 0, 0, 1, 1, 1], degree=2))
            add(Edge.make_bspline(
                [(47.7332768872, 9.6375219178), (47.2981194685, 10.3819282635), (47.2981194685, 11.415703248)],
                knots=[0, 0, 0, 1, 1, 1], degree=2))
            add(Edge.make_bspline(
                [(47.2981194685, 11.415703248), (47.2981194685, 13.2667789682), (48.8046035272, 14.3381056082)],
                knots=[0, 0, 0, 1, 1, 1], degree=2))
            add(Edge.make_bspline(
                [(48.8046035272, 14.3381056082), (50.3110875858, 15.4094322481), (52.9308677817, 15.4094322481)],
                knots=[0, 0, 0, 1, 1, 1], degree=2))
            add(Edge.make_bspline(
                [(52.9308677817, 15.4094322481), (55.373934305, 15.4094322481), (57.7109726247, 14.4154178399)],
                knots=[0, 0, 0, 1, 1, 1], degree=2))
            Line((57.7109726247, 14.4154178399), (56.8936718891, 12.5510885943))
            add(Edge.make_bspline(
                [(56.8936718891, 12.5510885943), (54.6184833547, 13.4876710589), (52.7674076346, 13.4876710589)],
                knots=[0, 0, 0, 1, 1, 1], degree=2))
            add(Edge.make_bspline(
                [(52.7674076346, 13.4876710589), (51.1372240051, 13.4876710589), (50.3088786649, 12.9774103294)],
                knots=[0, 0, 0, 1, 1, 1], degree=2))
            add(Edge.make_bspline(
                [(50.3088786649, 12.9774103294), (49.4805333248, 12.4671495998), (49.4805333248, 11.5703277115)],
                knots=[0, 0, 0, 1, 1, 1], degree=2))
            add(Edge.make_bspline(
                [(49.4805333248, 11.5703277115), (49.4805333248, 10.9606655412), (49.7919911727, 10.5343438061)],
                knots=[0, 0, 0, 1, 1, 1], degree=2))
            add(Edge.make_bspline(
                [(49.7919911727, 10.5343438061), (50.1034490206, 10.108022071), (50.7926323436, 9.7214609123)],
                knots=[0, 0, 0, 1, 1, 1], degree=2))
            add(Edge.make_bspline(
                [(50.7926323436, 9.7214609123), (51.4818156666, 9.3348997535), (53.4433374321, 8.6015380123)],
                knots=[0, 0, 0, 1, 1, 1], degree=2))
            add(Edge.make_bspline(
                [(53.4433374321, 8.6015380123), (56.133803097, 7.6207771296), (57.0792212453, 6.6267627214)],
                knots=[0, 0, 0, 1, 1, 1], degree=2))
        make_face(mode=Mode.SUBTRACT)
    extrude(amount=F1_DEPTH)

    # F2
    f2_edges = [f1.edges().sort_by_distance(p)[0] for p in [
        (64.339705, -25.4, 10.534985),
        (-37.61474, -25.4, 10.534985),
        (64.339705, 0, 10.534985),
        (-37.61474, 0, 10.534985),
    ]]
    fillet(f2_edges, radius=F2_R)


solid = f1.part
